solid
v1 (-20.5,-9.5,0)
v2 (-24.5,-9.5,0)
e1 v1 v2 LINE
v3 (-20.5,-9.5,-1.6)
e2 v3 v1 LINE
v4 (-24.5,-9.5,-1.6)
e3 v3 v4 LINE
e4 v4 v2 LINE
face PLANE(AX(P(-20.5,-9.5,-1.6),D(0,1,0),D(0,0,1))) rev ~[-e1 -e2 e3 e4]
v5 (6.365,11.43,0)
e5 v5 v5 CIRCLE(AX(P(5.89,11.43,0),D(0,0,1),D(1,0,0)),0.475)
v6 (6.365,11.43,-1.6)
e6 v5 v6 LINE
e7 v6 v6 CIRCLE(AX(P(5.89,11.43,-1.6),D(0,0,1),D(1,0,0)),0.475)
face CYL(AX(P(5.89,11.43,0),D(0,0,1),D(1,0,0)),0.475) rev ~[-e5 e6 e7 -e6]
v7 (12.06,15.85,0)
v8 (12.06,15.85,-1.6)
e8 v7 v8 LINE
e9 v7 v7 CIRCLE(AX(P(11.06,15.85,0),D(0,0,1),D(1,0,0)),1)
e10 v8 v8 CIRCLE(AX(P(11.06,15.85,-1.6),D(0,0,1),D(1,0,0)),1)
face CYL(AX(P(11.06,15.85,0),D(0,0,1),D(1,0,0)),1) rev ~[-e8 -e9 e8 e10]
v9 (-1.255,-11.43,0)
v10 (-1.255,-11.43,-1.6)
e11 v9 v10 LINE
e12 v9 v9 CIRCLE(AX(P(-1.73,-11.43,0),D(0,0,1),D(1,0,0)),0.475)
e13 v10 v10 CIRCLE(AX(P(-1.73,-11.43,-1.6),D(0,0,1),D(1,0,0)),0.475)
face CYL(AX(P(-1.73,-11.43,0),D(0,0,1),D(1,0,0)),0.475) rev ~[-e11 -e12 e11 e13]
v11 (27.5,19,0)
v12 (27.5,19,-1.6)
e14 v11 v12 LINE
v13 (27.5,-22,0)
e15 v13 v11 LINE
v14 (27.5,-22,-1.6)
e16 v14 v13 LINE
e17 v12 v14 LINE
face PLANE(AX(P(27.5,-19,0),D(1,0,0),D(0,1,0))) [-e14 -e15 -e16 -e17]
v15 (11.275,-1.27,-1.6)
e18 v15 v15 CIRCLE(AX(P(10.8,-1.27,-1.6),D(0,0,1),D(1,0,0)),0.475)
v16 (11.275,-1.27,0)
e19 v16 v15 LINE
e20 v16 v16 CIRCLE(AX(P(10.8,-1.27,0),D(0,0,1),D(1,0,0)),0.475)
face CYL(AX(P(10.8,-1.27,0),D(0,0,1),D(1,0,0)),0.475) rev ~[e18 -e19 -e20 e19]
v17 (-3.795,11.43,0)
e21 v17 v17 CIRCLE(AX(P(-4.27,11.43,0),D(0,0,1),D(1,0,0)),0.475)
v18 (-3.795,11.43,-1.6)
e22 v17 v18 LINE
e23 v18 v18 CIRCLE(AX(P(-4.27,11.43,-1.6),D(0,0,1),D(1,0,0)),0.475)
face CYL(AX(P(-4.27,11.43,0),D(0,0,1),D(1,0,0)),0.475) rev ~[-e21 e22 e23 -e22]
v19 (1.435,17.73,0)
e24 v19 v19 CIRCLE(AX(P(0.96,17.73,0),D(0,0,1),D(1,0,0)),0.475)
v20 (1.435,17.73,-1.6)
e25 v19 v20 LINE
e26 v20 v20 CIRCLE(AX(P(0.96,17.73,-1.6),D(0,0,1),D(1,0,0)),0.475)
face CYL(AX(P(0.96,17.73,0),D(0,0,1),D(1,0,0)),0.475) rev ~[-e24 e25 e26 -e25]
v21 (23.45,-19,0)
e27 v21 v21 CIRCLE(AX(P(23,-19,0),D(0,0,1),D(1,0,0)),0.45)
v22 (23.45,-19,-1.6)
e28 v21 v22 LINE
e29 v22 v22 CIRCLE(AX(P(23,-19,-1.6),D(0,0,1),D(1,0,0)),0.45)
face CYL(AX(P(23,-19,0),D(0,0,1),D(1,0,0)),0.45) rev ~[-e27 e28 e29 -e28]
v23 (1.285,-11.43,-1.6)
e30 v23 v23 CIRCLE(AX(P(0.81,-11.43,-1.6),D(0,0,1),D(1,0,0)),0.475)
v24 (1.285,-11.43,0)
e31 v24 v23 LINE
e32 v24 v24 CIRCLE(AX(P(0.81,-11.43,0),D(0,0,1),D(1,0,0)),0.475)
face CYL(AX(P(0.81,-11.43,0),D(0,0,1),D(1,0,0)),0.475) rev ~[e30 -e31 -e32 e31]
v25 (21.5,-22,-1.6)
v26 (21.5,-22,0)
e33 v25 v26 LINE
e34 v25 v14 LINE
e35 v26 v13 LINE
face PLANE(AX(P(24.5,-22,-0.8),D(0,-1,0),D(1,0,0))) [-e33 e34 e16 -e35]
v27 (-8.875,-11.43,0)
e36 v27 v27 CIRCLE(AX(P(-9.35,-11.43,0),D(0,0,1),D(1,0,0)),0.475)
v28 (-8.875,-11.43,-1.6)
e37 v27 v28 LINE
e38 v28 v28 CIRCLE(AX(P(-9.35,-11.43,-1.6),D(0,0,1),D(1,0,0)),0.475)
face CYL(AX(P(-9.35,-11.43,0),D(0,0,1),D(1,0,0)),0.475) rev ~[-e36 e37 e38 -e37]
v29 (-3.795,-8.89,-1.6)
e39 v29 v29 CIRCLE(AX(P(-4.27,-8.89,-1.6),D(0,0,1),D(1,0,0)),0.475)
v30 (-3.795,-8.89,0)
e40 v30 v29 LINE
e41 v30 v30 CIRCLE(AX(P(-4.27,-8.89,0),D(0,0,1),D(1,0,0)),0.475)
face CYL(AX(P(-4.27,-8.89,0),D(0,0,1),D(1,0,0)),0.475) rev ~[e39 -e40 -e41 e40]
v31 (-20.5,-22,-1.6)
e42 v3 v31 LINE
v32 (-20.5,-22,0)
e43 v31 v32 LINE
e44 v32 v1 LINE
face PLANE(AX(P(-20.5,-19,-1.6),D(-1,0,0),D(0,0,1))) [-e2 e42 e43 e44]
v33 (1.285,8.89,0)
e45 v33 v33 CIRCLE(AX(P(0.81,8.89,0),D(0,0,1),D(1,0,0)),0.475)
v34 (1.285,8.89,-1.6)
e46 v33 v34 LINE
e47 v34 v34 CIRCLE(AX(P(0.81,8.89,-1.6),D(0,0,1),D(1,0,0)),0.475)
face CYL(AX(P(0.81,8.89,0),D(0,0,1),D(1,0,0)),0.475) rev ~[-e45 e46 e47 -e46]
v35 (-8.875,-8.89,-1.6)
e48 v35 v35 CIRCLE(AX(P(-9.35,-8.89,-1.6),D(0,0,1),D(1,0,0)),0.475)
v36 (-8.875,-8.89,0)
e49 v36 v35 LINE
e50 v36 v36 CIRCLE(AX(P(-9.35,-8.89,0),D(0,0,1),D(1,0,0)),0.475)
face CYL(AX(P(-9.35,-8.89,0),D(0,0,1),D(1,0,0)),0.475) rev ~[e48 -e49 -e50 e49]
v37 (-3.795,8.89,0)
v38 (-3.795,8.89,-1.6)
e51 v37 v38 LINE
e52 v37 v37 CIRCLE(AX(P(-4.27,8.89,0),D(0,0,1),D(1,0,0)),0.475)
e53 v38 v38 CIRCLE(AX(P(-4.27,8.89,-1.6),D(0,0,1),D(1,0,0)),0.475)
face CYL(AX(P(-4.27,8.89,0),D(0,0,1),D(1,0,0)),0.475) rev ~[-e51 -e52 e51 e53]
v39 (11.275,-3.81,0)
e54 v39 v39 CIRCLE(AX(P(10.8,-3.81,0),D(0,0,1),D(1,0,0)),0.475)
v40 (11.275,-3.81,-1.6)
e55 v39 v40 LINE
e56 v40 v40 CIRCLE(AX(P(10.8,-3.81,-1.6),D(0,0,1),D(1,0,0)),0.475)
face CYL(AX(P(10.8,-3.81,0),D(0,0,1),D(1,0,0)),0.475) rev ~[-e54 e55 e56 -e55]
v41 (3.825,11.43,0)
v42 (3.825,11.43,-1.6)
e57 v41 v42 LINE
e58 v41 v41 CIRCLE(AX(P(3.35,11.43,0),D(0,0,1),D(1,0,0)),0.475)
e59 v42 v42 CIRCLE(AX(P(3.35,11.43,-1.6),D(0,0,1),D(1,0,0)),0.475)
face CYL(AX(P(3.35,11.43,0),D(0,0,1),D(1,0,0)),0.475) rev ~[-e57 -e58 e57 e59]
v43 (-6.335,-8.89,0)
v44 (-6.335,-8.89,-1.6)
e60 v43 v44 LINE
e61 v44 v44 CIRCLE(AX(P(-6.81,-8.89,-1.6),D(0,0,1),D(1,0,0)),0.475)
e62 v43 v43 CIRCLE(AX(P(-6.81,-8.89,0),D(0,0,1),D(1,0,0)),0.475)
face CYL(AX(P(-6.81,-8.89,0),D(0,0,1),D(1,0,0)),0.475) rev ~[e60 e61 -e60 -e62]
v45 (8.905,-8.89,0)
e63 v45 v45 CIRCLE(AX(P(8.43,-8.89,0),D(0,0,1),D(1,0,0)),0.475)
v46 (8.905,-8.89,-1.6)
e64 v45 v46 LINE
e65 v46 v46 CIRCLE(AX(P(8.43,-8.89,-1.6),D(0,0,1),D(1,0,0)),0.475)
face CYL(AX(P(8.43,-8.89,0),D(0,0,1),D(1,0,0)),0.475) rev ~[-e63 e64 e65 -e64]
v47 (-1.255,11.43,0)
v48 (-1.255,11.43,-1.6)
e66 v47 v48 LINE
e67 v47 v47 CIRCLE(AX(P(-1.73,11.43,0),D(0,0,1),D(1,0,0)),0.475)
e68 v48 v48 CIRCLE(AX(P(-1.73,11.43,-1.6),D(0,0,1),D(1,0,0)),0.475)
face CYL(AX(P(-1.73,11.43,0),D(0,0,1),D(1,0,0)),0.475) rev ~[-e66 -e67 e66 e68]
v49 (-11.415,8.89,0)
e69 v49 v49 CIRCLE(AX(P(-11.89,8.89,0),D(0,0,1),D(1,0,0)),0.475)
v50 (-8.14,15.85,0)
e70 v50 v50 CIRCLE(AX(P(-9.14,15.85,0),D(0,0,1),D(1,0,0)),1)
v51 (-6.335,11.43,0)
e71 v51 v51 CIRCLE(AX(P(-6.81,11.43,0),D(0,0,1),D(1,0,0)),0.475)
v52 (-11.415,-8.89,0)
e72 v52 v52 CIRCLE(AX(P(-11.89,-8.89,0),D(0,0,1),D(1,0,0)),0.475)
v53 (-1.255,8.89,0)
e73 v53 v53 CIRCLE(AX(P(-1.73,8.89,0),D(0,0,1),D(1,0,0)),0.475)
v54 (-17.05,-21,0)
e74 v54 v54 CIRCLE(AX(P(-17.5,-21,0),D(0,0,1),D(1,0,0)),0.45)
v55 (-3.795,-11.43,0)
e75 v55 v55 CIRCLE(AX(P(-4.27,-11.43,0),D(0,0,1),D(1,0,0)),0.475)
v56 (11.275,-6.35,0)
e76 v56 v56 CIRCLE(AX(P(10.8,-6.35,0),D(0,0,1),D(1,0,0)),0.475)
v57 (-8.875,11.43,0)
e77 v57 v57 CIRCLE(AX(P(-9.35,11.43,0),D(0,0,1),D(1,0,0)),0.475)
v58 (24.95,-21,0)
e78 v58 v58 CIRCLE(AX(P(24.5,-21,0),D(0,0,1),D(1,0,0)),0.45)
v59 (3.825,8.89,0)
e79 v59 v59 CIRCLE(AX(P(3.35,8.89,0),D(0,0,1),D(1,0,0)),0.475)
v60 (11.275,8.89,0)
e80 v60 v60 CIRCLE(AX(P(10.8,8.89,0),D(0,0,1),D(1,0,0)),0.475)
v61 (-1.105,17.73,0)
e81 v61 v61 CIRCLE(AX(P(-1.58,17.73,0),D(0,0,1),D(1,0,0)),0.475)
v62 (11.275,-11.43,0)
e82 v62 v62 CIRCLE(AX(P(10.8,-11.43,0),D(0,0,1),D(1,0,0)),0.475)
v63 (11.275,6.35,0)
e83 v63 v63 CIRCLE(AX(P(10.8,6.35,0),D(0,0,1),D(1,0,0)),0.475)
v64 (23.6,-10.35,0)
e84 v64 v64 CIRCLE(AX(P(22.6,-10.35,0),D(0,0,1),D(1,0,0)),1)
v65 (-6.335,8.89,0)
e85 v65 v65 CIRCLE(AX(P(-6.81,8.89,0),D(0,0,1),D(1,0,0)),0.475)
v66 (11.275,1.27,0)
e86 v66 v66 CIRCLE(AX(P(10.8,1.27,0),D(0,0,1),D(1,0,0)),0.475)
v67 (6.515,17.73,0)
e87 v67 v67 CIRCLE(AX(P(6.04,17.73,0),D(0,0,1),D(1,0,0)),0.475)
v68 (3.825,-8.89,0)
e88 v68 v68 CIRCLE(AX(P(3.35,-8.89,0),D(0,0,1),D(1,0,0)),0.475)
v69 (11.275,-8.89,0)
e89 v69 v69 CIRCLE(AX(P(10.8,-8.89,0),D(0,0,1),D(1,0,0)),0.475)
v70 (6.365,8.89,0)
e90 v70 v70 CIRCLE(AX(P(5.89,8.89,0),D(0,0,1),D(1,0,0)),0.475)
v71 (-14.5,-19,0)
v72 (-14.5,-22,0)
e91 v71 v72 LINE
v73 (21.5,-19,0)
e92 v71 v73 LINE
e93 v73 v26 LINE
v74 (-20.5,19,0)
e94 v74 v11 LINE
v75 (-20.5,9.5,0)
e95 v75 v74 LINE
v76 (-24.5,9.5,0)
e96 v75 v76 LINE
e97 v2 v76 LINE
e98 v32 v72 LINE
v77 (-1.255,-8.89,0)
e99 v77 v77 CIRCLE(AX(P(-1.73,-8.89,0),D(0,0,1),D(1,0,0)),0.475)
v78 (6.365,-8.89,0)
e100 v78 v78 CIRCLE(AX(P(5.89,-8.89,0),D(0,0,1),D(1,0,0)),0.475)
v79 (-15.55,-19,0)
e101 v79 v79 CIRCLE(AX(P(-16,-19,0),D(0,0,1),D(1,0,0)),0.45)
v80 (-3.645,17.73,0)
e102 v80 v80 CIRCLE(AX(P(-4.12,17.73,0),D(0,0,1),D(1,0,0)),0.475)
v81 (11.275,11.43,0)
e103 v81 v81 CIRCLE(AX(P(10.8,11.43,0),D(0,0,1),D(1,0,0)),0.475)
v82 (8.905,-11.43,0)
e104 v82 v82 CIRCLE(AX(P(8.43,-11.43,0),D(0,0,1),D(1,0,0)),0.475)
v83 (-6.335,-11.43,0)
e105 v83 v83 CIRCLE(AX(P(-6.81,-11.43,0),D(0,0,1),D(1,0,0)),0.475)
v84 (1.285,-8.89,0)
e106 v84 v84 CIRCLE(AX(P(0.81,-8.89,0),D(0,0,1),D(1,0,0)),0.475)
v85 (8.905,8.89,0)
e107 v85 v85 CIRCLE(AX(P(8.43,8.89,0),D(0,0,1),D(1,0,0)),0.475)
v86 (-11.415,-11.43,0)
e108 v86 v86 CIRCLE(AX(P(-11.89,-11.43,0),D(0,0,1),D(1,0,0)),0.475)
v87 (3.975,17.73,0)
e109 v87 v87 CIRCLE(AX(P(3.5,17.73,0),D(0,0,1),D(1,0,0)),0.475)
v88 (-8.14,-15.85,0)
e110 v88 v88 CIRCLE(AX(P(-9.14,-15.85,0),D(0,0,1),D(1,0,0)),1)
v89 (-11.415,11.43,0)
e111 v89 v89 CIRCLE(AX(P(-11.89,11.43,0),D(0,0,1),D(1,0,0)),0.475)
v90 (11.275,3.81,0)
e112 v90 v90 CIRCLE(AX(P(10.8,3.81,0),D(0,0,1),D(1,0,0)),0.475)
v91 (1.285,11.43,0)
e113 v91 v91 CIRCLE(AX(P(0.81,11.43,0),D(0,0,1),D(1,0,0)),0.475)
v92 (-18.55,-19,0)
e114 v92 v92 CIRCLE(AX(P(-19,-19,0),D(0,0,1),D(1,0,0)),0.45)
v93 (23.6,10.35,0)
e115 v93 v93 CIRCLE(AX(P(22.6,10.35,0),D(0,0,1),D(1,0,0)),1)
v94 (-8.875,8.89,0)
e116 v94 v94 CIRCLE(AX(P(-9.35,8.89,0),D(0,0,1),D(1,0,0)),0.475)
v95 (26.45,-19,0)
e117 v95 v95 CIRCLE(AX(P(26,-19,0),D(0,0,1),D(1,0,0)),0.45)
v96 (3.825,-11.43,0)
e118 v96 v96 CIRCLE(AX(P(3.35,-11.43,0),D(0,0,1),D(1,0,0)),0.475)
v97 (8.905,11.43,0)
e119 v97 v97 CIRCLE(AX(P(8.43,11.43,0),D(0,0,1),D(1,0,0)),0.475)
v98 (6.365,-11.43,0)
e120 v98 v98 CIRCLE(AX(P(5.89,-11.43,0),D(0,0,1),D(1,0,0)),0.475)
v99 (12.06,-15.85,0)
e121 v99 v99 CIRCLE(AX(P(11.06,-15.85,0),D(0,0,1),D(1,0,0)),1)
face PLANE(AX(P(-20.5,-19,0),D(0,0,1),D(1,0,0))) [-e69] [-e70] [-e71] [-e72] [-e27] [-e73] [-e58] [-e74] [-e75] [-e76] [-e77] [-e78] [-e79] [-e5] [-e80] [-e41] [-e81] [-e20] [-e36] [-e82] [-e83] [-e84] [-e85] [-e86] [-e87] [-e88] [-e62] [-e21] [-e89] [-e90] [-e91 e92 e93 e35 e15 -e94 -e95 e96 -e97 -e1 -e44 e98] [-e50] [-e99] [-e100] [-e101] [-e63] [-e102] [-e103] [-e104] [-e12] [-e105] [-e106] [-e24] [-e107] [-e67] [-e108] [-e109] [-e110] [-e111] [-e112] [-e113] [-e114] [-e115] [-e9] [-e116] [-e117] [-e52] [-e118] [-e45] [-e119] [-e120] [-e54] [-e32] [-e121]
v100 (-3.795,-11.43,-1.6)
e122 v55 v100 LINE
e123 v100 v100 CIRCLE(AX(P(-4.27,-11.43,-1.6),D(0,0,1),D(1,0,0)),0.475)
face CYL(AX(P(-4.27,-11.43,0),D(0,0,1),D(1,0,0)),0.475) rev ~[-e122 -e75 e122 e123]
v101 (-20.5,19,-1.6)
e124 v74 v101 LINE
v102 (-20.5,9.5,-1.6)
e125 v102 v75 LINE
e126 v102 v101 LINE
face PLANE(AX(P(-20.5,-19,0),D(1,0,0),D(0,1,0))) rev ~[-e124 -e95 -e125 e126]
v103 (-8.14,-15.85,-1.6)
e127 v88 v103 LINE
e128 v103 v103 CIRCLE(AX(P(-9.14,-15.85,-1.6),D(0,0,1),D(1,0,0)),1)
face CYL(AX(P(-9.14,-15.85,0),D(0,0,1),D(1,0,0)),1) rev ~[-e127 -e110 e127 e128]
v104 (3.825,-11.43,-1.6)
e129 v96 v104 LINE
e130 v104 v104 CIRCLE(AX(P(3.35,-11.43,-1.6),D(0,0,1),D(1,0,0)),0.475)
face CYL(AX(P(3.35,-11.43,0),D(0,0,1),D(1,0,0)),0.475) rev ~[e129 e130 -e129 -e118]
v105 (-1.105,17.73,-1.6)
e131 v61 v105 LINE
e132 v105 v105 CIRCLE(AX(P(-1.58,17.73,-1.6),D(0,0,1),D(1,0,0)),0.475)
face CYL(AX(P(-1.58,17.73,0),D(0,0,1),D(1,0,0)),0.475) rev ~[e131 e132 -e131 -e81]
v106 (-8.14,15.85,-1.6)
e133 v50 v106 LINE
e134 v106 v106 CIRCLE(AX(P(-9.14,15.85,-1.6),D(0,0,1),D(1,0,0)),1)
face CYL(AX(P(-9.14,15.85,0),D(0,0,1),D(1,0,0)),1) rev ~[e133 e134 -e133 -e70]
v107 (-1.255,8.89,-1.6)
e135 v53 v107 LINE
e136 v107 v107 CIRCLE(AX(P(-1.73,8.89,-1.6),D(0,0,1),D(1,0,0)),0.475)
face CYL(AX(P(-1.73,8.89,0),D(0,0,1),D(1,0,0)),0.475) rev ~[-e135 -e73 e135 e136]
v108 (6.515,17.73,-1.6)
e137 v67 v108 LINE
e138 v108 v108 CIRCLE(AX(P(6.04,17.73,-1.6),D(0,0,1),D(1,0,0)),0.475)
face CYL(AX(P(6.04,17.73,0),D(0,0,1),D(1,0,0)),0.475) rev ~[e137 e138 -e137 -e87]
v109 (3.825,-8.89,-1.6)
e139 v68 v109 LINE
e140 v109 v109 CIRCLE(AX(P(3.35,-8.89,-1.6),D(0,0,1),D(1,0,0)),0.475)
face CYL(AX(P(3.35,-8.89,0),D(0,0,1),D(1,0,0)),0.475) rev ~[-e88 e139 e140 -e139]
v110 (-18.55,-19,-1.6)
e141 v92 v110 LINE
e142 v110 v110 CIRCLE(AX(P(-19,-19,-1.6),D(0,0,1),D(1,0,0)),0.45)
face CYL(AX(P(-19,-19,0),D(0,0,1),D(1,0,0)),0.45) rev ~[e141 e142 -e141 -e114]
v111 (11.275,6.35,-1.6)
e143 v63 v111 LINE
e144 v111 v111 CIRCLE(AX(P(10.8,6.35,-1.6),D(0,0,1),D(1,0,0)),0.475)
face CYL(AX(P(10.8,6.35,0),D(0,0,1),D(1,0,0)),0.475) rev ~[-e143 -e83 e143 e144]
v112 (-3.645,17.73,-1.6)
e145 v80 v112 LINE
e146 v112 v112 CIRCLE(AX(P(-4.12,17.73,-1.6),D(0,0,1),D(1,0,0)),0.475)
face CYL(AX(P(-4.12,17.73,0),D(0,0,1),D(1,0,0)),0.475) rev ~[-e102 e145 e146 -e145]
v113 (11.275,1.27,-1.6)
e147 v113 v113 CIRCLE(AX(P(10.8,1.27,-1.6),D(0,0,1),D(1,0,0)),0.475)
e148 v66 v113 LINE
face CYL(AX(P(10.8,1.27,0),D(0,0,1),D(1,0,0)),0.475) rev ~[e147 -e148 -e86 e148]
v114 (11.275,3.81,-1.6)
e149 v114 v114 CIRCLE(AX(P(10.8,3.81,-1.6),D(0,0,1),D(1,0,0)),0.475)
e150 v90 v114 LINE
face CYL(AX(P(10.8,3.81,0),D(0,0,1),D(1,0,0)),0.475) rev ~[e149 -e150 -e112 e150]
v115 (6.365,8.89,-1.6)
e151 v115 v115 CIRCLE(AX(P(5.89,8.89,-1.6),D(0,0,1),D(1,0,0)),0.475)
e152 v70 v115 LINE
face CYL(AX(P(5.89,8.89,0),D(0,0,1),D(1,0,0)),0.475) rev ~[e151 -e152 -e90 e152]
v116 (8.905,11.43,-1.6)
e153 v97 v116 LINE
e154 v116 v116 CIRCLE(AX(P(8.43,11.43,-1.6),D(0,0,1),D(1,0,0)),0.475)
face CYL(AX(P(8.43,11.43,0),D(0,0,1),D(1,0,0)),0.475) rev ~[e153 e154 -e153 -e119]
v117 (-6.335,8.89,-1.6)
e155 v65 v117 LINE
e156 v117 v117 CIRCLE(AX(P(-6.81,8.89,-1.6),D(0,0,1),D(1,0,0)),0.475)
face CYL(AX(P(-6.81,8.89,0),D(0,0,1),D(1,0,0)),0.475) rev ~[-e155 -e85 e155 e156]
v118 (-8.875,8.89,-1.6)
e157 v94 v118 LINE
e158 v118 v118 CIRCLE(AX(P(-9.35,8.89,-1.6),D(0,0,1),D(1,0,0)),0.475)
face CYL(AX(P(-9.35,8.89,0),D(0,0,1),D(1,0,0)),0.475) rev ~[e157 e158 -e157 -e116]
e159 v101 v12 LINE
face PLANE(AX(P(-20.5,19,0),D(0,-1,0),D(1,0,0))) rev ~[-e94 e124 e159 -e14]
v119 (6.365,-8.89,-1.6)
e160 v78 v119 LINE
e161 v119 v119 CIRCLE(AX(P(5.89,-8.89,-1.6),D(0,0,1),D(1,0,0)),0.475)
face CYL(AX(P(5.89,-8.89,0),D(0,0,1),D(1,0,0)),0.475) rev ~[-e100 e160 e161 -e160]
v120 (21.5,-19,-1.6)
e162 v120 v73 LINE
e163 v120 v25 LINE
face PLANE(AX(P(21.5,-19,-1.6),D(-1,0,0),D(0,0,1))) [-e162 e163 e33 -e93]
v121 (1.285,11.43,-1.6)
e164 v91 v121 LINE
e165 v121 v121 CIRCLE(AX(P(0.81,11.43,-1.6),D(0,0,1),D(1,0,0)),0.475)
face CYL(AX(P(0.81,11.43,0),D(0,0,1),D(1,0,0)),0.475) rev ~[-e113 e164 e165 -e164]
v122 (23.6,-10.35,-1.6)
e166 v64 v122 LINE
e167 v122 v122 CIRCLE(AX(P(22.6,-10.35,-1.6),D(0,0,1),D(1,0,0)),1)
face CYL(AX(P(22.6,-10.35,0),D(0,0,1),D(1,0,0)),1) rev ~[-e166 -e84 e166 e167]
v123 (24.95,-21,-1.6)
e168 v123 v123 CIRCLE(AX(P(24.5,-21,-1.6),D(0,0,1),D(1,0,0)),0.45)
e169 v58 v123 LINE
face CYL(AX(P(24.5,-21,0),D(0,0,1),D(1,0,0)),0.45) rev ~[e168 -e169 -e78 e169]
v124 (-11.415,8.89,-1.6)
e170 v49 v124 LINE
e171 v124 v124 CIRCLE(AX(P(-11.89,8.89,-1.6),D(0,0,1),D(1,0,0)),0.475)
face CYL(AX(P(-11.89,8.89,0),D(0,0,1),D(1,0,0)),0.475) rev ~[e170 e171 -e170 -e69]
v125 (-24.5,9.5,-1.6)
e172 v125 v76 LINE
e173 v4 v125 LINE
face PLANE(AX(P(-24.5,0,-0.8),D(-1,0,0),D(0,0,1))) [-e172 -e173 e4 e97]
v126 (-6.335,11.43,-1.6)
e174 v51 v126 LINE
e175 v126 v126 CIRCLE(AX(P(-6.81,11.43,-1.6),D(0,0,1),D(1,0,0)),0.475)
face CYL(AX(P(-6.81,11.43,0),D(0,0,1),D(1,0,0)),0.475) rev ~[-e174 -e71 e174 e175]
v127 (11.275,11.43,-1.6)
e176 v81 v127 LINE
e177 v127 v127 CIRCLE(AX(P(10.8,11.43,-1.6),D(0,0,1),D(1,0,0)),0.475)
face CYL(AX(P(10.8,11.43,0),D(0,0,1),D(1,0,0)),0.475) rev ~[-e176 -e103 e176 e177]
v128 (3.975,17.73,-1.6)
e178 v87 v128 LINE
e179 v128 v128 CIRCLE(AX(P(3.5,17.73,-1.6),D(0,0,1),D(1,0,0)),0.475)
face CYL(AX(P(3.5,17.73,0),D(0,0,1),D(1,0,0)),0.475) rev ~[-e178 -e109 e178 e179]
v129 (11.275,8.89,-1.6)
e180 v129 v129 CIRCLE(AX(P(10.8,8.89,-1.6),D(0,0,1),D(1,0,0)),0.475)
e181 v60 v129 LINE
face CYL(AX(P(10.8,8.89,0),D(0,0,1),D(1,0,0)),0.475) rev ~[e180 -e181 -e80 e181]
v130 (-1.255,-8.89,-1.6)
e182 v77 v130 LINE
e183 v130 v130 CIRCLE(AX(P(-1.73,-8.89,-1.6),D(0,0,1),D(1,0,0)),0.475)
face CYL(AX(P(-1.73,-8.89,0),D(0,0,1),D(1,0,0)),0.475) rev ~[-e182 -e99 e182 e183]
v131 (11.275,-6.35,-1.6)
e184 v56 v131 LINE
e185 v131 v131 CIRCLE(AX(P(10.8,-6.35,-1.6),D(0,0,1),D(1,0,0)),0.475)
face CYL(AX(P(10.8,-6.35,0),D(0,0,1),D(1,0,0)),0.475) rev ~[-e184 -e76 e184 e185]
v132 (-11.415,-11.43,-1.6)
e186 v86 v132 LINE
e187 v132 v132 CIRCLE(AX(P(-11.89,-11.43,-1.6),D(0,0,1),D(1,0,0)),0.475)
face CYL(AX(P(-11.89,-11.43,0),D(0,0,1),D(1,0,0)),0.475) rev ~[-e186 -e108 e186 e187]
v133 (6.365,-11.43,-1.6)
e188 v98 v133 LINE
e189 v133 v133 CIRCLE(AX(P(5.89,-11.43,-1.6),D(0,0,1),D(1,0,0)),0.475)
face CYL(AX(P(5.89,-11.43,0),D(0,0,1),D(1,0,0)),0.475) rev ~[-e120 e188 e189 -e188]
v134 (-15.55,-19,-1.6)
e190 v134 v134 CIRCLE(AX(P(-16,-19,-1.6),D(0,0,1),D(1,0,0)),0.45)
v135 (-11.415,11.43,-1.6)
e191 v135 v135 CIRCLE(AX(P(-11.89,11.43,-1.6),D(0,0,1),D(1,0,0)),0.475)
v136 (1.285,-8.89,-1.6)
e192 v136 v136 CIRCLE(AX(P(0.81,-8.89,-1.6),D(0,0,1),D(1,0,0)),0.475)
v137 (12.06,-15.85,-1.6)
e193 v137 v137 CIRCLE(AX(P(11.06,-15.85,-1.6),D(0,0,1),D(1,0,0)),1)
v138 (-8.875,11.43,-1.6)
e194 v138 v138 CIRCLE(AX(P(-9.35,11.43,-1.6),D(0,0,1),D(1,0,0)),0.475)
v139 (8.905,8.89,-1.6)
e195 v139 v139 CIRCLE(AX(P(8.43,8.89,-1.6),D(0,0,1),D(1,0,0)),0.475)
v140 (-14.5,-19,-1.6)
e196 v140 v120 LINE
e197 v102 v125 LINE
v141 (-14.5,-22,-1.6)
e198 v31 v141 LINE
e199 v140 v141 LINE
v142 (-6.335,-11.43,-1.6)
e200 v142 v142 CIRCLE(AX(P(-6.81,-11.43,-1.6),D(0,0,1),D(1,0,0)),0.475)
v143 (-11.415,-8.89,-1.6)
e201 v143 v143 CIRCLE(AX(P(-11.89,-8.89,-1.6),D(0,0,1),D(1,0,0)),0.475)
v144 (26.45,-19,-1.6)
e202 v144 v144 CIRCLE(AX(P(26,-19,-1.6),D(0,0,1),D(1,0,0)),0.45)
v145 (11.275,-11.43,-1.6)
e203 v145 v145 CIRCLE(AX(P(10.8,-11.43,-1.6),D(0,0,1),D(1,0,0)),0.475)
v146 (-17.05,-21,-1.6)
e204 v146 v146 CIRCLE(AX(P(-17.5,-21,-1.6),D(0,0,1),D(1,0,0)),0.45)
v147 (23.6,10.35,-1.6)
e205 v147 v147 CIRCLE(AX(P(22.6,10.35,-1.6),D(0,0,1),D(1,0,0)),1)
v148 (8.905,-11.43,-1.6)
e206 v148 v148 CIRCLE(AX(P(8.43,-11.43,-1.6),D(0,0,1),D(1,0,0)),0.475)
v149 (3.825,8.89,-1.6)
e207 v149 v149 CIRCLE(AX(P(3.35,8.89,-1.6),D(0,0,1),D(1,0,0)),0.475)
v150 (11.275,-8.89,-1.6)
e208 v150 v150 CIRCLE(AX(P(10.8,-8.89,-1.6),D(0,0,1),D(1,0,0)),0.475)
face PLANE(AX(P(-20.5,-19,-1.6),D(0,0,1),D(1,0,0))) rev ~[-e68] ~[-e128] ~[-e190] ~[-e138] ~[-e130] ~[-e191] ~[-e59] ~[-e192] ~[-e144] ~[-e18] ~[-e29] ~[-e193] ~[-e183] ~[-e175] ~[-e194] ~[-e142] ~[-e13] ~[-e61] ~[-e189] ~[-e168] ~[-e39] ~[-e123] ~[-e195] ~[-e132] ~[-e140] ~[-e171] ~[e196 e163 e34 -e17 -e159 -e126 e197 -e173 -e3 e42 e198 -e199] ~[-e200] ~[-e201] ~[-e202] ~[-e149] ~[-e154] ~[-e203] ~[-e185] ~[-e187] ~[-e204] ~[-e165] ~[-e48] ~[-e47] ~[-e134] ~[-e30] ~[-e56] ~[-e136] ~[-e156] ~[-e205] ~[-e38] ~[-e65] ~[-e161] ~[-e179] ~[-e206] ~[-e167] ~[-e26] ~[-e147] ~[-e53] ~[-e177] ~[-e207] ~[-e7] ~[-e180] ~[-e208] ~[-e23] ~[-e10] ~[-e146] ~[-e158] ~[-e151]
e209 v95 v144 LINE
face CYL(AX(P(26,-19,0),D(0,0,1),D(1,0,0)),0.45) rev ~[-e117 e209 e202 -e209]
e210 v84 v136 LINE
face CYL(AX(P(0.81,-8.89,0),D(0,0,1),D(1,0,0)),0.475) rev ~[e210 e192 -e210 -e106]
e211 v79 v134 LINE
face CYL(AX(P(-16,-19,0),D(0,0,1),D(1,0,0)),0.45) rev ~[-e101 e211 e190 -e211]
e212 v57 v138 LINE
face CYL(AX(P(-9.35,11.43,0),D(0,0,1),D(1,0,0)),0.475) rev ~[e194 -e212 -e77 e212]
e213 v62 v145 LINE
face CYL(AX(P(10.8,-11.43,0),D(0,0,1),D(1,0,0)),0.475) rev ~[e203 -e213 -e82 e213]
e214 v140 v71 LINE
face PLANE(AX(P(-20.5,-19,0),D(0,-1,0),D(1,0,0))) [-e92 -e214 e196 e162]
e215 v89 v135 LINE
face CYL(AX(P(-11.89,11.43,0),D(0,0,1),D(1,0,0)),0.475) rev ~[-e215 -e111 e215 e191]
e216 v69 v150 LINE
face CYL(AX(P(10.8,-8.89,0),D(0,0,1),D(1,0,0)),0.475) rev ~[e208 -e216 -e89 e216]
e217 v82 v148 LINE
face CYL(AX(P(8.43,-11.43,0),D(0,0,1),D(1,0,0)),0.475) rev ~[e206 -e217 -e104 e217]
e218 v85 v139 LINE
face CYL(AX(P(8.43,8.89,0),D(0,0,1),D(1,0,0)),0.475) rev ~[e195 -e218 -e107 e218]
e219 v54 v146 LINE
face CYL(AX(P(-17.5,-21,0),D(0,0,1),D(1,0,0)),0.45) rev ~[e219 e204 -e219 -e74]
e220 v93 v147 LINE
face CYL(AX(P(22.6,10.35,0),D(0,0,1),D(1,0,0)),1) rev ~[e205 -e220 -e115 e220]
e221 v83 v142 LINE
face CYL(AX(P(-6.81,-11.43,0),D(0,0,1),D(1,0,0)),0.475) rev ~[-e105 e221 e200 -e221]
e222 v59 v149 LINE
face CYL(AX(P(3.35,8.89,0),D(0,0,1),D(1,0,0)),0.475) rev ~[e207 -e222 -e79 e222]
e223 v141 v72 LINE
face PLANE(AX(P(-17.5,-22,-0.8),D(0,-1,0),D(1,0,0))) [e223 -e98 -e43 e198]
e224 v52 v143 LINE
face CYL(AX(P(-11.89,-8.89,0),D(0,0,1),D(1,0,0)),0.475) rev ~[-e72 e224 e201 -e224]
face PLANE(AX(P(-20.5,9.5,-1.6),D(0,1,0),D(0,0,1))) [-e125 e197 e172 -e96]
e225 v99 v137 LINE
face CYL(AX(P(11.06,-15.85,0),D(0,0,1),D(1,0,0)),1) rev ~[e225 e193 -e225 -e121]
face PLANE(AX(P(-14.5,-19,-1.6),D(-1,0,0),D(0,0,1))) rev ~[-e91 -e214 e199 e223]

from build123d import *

# Parameters (mm, degrees)
SKETCH_1_W          = 48
SKETCH_1_H          = 38
EXTRUDE_1_DEPTH     = 1.6
SKETCH_5_R          = 1
SKETCH_5_R_2        = 0.475
CUT_EXTRUDE_1_DEPTH = 1.6
SKETCH_8_W          = 1.6
SKETCH_8_H          = 19
EXTRUDE_3_DEPTH     = 4
SKETCH_9_W          = 6
SKETCH_9_H          = 1.6
EXTRUDE_4_DEPTH     = 3
CUT_EXTRUDE_2_REACH = 37.254
SKETCH_10_R         = 0.45


with BuildPart() as part:
    # 草图1 → 凸台-拉伸1 (new body)
    with BuildSketch(Plane.XY):
        with Locations((3.5, 0)):
            Rectangle(SKETCH_1_W, SKETCH_1_H)
    extrude(amount=-EXTRUDE_1_DEPTH)

    # 草图5 → 切除-拉伸1 (cut)
    with BuildSketch(Plane.XY):
        with Locations((-9.14, 15.85)):
            Circle(SKETCH_5_R)
        with Locations((11.06, 15.85)):
            Circle(SKETCH_5_R)
        with Locations((22.6, 10.35)):
            Circle(SKETCH_5_R)
        with Locations((22.6, -10.35)):
            Circle(SKETCH_5_R)
        with Locations((-11.89, 8.89)):
            Circle(SKETCH_5_R_2)
        with Locations((-9.35, 8.89)):
            Circle(SKETCH_5_R_2)
        with Locations((-6.81, 8.89)):
            Circle(SKETCH_5_R_2)
        with Locations((-4.27, 8.89)):
            Circle(SKETCH_5_R_2)
        with Locations((-11.89, 11.43)):
            Circle(SKETCH_5_R_2)
        with Locations((-9.35, 11.43)):
            Circle(SKETCH_5_R_2)
        with Locations((-6.81, 11.43)):
            Circle(SKETCH_5_R_2)
        with Locations((-4.27, 11.43)):
            Circle(SKETCH_5_R_2)
        with Locations((-1.73, 11.43)):
            Circle(SKETCH_5_R_2)
        with Locations((0.81, 11.43)):
            Circle(SKETCH_5_R_2)
        with Locations((3.35, 11.43)):
            Circle(SKETCH_5_R_2)
        with Locations((-1.73, 8.89)):
            Circle(SKETCH_5_R_2)
        with Locations((0.81, 8.89)):
            Circle(SKETCH_5_R_2)
        with Locations((3.35, 8.89)):
            Circle(SKETCH_5_R_2)
        with Locations((5.89, 8.89)):
            Circle(SKETCH_5_R_2)
        with Locations((8.43, 8.89)):
            Circle(SKETCH_5_R_2)
        with Locations((5.89, 11.43)):
            Circle(SKETCH_5_R_2)
        with Locations((8.43, 11.43)):
            Circle(SKETCH_5_R_2)
        with Locations((10.8, 11.43)):
            Circle(SKETCH_5_R_2)
        with Locations((10.8, 8.89)):
            Circle(SKETCH_5_R_2)
        with Locations((10.8, 6.35)):
            Circle(SKETCH_5_R_2)
        with Locations((10.8, 3.81)):
            Circle(SKETCH_5_R_2)
        with Locations((10.8, 1.27)):
            Circle(SKETCH_5_R_2)
        with Locations((10.8, -1.27)):
            Circle(SKETCH_5_R_2)
        with Locations((10.8, -3.81)):
            Circle(SKETCH_5_R_2)
        with Locations((10.8, -6.35)):
            Circle(SKETCH_5_R_2)
        with Locations((-11.89, -8.89)):
            Circle(SKETCH_5_R_2)
        with Locations((-9.35, -8.89)):
            Circle(SKETCH_5_R_2)
        with Locations((-6.81, -8.89)):
            Circle(SKETCH_5_R_2)
        with Locations((-4.27, -8.89)):
            Circle(SKETCH_5_R_2)
        with Locations((-1.73, -8.89)):
            Circle(SKETCH_5_R_2)
        with Locations((0.81, -8.89)):
            Circle(SKETCH_5_R_2)
        with Locations((3.35, -8.89)):
            Circle(SKETCH_5_R_2)
        with Locations((5.89, -8.89)):
            Circle(SKETCH_5_R_2)
        with Locations((8.43, -8.89)):
            Circle(SKETCH_5_R_2)
        with Locations((10.8, -8.89)):
            Circle(SKETCH_5_R_2)
        with Locations((-11.89, -11.43)):
            Circle(SKETCH_5_R_2)
        with Locations((-9.35, -11.43)):
            Circle(SKETCH_5_R_2)
        with Locations((-6.81, -11.43)):
            Circle(SKETCH_5_R_2)
        with Locations((-4.27, -11.43)):
            Circle(SKETCH_5_R_2)
        with Locations((-1.73, -11.43)):
            Circle(SKETCH_5_R_2)
        with Locations((0.81, -11.43)):
            Circle(SKETCH_5_R_2)
        with Locations((3.35, -11.43)):
            Circle(SKETCH_5_R_2)
        with Locations((5.89, -11.43)):
            Circle(SKETCH_5_R_2)
        with Locations((8.43, -11.43)):
            Circle(SKETCH_5_R_2)
        with Locations((10.8, -11.43)):
            Circle(SKETCH_5_R_2)
        with Locations((3.5, 17.73)):
            Circle(SKETCH_5_R_2)
        with Locations((6.04, 17.73)):
            Circle(SKETCH_5_R_2)
        with Locations((0.96, 17.73)):
            Circle(SKETCH_5_R_2)
        with Locations((-4.12, 17.73)):
            Circle(SKETCH_5_R_2)
        with Locations((-1.58, 17.73)):
            Circle(SKETCH_5_R_2)
        with Locations((11.06, -15.85)):
            Circle(SKETCH_5_R)
        with Locations((-9.14, -15.85)):
            Circle(SKETCH_5_R)
    extrude(amount=-CUT_EXTRUDE_1_DEPTH, mode=Mode.SUBTRACT)

    # 草图8 → 凸台-拉伸3 (add)
    with BuildSketch(Plane.ZY.offset(20.5)):
        with Locations((-0.8, 0)):
            Rectangle(SKETCH_8_W, SKETCH_8_H)
    extrude(amount=EXTRUDE_3_DEPTH)

    # 草图9 → 凸台-拉伸4 (add)
    with BuildSketch(Plane.XZ.offset(19)):
        with Locations((-17.5, -0.8)):
            Rectangle(SKETCH_9_W, SKETCH_9_H)
        with Locations((24.5, -0.8)):
            Rectangle(SKETCH_9_W, SKETCH_9_H)
    extrude(amount=EXTRUDE_4_DEPTH)

    # 草图10 → 切除-拉伸2 (cut, up to next)
    with BuildSketch(Plane.XY, mode=Mode.PRIVATE) as cut_extrude_2_sk1:
        with Locations((-19, -19)):
            Circle(SKETCH_10_R)
    cut_extrude_2_tool1 = extrude(cut_extrude_2_sk1.sketch, amount=-CUT_EXTRUDE_2_REACH, mode=Mode.PRIVATE) & part.part
    # 草图10 → 切除-拉伸2 (cut, up to next)
    with BuildSketch(Plane.XY, mode=Mode.PRIVATE) as cut_extrude_2_sk2:
        with Locations((-16, -19)):
            Circle(SKETCH_10_R)
    cut_extrude_2_tool2 = extrude(cut_extrude_2_sk2.sketch, amount=-CUT_EXTRUDE_2_REACH, mode=Mode.PRIVATE) & part.part
    # 草图10 → 切除-拉伸2 (cut, up to next)
    with BuildSketch(Plane.XY, mode=Mode.PRIVATE) as cut_extrude_2_sk3:
        with Locations((-17.5, -21)):
            Circle(SKETCH_10_R)
    cut_extrude_2_tool3 = extrude(cut_extrude_2_sk3.sketch, amount=-CUT_EXTRUDE_2_REACH, mode=Mode.PRIVATE) & part.part
    # 草图10 → 切除-拉伸2 (cut, up to next)
    with BuildSketch(Plane.XY, mode=Mode.PRIVATE) as cut_extrude_2_sk4:
        with Locations((23, -19)):
            Circle(SKETCH_10_R)
    cut_extrude_2_tool4 = extrude(cut_extrude_2_sk4.sketch, amount=-CUT_EXTRUDE_2_REACH, mode=Mode.PRIVATE) & part.part
    # 草图10 → 切除-拉伸2 (cut, up to next)
    with BuildSketch(Plane.XY, mode=Mode.PRIVATE) as cut_extrude_2_sk5:
        with Locations((26, -19)):
            Circle(SKETCH_10_R)
    cut_extrude_2_tool5 = extrude(cut_extrude_2_sk5.sketch, amount=-CUT_EXTRUDE_2_REACH, mode=Mode.PRIVATE) & part.part
    # 草图10 → 切除-拉伸2 (cut, up to next)
    with BuildSketch(Plane.XY, mode=Mode.PRIVATE) as cut_extrude_2_sk6:
        with Locations((24.5, -21)):
            Circle(SKETCH_10_R)
    cut_extrude_2_tool6 = extrude(cut_extrude_2_sk6.sketch, amount=-CUT_EXTRUDE_2_REACH, mode=Mode.PRIVATE) & part.part
    add(cut_extrude_2_tool1.solids().sort_by_distance((-19, -19, 0))[0], mode=Mode.SUBTRACT)
    add(cut_extrude_2_tool2.solids().sort_by_distance((-16, -19, 0))[0], mode=Mode.SUBTRACT)
    add(cut_extrude_2_tool3.solids().sort_by_distance((-17.5, -21, 0))[0], mode=Mode.SUBTRACT)
    add(cut_extrude_2_tool4.solids().sort_by_distance((23, -19, 0))[0], mode=Mode.SUBTRACT)
    add(cut_extrude_2_tool5.solids().sort_by_distance((26, -19, 0))[0], mode=Mode.SUBTRACT)
    add(cut_extrude_2_tool6.solids().sort_by_distance((24.5, -21, 0))[0], mode=Mode.SUBTRACT)


solid = part.part
